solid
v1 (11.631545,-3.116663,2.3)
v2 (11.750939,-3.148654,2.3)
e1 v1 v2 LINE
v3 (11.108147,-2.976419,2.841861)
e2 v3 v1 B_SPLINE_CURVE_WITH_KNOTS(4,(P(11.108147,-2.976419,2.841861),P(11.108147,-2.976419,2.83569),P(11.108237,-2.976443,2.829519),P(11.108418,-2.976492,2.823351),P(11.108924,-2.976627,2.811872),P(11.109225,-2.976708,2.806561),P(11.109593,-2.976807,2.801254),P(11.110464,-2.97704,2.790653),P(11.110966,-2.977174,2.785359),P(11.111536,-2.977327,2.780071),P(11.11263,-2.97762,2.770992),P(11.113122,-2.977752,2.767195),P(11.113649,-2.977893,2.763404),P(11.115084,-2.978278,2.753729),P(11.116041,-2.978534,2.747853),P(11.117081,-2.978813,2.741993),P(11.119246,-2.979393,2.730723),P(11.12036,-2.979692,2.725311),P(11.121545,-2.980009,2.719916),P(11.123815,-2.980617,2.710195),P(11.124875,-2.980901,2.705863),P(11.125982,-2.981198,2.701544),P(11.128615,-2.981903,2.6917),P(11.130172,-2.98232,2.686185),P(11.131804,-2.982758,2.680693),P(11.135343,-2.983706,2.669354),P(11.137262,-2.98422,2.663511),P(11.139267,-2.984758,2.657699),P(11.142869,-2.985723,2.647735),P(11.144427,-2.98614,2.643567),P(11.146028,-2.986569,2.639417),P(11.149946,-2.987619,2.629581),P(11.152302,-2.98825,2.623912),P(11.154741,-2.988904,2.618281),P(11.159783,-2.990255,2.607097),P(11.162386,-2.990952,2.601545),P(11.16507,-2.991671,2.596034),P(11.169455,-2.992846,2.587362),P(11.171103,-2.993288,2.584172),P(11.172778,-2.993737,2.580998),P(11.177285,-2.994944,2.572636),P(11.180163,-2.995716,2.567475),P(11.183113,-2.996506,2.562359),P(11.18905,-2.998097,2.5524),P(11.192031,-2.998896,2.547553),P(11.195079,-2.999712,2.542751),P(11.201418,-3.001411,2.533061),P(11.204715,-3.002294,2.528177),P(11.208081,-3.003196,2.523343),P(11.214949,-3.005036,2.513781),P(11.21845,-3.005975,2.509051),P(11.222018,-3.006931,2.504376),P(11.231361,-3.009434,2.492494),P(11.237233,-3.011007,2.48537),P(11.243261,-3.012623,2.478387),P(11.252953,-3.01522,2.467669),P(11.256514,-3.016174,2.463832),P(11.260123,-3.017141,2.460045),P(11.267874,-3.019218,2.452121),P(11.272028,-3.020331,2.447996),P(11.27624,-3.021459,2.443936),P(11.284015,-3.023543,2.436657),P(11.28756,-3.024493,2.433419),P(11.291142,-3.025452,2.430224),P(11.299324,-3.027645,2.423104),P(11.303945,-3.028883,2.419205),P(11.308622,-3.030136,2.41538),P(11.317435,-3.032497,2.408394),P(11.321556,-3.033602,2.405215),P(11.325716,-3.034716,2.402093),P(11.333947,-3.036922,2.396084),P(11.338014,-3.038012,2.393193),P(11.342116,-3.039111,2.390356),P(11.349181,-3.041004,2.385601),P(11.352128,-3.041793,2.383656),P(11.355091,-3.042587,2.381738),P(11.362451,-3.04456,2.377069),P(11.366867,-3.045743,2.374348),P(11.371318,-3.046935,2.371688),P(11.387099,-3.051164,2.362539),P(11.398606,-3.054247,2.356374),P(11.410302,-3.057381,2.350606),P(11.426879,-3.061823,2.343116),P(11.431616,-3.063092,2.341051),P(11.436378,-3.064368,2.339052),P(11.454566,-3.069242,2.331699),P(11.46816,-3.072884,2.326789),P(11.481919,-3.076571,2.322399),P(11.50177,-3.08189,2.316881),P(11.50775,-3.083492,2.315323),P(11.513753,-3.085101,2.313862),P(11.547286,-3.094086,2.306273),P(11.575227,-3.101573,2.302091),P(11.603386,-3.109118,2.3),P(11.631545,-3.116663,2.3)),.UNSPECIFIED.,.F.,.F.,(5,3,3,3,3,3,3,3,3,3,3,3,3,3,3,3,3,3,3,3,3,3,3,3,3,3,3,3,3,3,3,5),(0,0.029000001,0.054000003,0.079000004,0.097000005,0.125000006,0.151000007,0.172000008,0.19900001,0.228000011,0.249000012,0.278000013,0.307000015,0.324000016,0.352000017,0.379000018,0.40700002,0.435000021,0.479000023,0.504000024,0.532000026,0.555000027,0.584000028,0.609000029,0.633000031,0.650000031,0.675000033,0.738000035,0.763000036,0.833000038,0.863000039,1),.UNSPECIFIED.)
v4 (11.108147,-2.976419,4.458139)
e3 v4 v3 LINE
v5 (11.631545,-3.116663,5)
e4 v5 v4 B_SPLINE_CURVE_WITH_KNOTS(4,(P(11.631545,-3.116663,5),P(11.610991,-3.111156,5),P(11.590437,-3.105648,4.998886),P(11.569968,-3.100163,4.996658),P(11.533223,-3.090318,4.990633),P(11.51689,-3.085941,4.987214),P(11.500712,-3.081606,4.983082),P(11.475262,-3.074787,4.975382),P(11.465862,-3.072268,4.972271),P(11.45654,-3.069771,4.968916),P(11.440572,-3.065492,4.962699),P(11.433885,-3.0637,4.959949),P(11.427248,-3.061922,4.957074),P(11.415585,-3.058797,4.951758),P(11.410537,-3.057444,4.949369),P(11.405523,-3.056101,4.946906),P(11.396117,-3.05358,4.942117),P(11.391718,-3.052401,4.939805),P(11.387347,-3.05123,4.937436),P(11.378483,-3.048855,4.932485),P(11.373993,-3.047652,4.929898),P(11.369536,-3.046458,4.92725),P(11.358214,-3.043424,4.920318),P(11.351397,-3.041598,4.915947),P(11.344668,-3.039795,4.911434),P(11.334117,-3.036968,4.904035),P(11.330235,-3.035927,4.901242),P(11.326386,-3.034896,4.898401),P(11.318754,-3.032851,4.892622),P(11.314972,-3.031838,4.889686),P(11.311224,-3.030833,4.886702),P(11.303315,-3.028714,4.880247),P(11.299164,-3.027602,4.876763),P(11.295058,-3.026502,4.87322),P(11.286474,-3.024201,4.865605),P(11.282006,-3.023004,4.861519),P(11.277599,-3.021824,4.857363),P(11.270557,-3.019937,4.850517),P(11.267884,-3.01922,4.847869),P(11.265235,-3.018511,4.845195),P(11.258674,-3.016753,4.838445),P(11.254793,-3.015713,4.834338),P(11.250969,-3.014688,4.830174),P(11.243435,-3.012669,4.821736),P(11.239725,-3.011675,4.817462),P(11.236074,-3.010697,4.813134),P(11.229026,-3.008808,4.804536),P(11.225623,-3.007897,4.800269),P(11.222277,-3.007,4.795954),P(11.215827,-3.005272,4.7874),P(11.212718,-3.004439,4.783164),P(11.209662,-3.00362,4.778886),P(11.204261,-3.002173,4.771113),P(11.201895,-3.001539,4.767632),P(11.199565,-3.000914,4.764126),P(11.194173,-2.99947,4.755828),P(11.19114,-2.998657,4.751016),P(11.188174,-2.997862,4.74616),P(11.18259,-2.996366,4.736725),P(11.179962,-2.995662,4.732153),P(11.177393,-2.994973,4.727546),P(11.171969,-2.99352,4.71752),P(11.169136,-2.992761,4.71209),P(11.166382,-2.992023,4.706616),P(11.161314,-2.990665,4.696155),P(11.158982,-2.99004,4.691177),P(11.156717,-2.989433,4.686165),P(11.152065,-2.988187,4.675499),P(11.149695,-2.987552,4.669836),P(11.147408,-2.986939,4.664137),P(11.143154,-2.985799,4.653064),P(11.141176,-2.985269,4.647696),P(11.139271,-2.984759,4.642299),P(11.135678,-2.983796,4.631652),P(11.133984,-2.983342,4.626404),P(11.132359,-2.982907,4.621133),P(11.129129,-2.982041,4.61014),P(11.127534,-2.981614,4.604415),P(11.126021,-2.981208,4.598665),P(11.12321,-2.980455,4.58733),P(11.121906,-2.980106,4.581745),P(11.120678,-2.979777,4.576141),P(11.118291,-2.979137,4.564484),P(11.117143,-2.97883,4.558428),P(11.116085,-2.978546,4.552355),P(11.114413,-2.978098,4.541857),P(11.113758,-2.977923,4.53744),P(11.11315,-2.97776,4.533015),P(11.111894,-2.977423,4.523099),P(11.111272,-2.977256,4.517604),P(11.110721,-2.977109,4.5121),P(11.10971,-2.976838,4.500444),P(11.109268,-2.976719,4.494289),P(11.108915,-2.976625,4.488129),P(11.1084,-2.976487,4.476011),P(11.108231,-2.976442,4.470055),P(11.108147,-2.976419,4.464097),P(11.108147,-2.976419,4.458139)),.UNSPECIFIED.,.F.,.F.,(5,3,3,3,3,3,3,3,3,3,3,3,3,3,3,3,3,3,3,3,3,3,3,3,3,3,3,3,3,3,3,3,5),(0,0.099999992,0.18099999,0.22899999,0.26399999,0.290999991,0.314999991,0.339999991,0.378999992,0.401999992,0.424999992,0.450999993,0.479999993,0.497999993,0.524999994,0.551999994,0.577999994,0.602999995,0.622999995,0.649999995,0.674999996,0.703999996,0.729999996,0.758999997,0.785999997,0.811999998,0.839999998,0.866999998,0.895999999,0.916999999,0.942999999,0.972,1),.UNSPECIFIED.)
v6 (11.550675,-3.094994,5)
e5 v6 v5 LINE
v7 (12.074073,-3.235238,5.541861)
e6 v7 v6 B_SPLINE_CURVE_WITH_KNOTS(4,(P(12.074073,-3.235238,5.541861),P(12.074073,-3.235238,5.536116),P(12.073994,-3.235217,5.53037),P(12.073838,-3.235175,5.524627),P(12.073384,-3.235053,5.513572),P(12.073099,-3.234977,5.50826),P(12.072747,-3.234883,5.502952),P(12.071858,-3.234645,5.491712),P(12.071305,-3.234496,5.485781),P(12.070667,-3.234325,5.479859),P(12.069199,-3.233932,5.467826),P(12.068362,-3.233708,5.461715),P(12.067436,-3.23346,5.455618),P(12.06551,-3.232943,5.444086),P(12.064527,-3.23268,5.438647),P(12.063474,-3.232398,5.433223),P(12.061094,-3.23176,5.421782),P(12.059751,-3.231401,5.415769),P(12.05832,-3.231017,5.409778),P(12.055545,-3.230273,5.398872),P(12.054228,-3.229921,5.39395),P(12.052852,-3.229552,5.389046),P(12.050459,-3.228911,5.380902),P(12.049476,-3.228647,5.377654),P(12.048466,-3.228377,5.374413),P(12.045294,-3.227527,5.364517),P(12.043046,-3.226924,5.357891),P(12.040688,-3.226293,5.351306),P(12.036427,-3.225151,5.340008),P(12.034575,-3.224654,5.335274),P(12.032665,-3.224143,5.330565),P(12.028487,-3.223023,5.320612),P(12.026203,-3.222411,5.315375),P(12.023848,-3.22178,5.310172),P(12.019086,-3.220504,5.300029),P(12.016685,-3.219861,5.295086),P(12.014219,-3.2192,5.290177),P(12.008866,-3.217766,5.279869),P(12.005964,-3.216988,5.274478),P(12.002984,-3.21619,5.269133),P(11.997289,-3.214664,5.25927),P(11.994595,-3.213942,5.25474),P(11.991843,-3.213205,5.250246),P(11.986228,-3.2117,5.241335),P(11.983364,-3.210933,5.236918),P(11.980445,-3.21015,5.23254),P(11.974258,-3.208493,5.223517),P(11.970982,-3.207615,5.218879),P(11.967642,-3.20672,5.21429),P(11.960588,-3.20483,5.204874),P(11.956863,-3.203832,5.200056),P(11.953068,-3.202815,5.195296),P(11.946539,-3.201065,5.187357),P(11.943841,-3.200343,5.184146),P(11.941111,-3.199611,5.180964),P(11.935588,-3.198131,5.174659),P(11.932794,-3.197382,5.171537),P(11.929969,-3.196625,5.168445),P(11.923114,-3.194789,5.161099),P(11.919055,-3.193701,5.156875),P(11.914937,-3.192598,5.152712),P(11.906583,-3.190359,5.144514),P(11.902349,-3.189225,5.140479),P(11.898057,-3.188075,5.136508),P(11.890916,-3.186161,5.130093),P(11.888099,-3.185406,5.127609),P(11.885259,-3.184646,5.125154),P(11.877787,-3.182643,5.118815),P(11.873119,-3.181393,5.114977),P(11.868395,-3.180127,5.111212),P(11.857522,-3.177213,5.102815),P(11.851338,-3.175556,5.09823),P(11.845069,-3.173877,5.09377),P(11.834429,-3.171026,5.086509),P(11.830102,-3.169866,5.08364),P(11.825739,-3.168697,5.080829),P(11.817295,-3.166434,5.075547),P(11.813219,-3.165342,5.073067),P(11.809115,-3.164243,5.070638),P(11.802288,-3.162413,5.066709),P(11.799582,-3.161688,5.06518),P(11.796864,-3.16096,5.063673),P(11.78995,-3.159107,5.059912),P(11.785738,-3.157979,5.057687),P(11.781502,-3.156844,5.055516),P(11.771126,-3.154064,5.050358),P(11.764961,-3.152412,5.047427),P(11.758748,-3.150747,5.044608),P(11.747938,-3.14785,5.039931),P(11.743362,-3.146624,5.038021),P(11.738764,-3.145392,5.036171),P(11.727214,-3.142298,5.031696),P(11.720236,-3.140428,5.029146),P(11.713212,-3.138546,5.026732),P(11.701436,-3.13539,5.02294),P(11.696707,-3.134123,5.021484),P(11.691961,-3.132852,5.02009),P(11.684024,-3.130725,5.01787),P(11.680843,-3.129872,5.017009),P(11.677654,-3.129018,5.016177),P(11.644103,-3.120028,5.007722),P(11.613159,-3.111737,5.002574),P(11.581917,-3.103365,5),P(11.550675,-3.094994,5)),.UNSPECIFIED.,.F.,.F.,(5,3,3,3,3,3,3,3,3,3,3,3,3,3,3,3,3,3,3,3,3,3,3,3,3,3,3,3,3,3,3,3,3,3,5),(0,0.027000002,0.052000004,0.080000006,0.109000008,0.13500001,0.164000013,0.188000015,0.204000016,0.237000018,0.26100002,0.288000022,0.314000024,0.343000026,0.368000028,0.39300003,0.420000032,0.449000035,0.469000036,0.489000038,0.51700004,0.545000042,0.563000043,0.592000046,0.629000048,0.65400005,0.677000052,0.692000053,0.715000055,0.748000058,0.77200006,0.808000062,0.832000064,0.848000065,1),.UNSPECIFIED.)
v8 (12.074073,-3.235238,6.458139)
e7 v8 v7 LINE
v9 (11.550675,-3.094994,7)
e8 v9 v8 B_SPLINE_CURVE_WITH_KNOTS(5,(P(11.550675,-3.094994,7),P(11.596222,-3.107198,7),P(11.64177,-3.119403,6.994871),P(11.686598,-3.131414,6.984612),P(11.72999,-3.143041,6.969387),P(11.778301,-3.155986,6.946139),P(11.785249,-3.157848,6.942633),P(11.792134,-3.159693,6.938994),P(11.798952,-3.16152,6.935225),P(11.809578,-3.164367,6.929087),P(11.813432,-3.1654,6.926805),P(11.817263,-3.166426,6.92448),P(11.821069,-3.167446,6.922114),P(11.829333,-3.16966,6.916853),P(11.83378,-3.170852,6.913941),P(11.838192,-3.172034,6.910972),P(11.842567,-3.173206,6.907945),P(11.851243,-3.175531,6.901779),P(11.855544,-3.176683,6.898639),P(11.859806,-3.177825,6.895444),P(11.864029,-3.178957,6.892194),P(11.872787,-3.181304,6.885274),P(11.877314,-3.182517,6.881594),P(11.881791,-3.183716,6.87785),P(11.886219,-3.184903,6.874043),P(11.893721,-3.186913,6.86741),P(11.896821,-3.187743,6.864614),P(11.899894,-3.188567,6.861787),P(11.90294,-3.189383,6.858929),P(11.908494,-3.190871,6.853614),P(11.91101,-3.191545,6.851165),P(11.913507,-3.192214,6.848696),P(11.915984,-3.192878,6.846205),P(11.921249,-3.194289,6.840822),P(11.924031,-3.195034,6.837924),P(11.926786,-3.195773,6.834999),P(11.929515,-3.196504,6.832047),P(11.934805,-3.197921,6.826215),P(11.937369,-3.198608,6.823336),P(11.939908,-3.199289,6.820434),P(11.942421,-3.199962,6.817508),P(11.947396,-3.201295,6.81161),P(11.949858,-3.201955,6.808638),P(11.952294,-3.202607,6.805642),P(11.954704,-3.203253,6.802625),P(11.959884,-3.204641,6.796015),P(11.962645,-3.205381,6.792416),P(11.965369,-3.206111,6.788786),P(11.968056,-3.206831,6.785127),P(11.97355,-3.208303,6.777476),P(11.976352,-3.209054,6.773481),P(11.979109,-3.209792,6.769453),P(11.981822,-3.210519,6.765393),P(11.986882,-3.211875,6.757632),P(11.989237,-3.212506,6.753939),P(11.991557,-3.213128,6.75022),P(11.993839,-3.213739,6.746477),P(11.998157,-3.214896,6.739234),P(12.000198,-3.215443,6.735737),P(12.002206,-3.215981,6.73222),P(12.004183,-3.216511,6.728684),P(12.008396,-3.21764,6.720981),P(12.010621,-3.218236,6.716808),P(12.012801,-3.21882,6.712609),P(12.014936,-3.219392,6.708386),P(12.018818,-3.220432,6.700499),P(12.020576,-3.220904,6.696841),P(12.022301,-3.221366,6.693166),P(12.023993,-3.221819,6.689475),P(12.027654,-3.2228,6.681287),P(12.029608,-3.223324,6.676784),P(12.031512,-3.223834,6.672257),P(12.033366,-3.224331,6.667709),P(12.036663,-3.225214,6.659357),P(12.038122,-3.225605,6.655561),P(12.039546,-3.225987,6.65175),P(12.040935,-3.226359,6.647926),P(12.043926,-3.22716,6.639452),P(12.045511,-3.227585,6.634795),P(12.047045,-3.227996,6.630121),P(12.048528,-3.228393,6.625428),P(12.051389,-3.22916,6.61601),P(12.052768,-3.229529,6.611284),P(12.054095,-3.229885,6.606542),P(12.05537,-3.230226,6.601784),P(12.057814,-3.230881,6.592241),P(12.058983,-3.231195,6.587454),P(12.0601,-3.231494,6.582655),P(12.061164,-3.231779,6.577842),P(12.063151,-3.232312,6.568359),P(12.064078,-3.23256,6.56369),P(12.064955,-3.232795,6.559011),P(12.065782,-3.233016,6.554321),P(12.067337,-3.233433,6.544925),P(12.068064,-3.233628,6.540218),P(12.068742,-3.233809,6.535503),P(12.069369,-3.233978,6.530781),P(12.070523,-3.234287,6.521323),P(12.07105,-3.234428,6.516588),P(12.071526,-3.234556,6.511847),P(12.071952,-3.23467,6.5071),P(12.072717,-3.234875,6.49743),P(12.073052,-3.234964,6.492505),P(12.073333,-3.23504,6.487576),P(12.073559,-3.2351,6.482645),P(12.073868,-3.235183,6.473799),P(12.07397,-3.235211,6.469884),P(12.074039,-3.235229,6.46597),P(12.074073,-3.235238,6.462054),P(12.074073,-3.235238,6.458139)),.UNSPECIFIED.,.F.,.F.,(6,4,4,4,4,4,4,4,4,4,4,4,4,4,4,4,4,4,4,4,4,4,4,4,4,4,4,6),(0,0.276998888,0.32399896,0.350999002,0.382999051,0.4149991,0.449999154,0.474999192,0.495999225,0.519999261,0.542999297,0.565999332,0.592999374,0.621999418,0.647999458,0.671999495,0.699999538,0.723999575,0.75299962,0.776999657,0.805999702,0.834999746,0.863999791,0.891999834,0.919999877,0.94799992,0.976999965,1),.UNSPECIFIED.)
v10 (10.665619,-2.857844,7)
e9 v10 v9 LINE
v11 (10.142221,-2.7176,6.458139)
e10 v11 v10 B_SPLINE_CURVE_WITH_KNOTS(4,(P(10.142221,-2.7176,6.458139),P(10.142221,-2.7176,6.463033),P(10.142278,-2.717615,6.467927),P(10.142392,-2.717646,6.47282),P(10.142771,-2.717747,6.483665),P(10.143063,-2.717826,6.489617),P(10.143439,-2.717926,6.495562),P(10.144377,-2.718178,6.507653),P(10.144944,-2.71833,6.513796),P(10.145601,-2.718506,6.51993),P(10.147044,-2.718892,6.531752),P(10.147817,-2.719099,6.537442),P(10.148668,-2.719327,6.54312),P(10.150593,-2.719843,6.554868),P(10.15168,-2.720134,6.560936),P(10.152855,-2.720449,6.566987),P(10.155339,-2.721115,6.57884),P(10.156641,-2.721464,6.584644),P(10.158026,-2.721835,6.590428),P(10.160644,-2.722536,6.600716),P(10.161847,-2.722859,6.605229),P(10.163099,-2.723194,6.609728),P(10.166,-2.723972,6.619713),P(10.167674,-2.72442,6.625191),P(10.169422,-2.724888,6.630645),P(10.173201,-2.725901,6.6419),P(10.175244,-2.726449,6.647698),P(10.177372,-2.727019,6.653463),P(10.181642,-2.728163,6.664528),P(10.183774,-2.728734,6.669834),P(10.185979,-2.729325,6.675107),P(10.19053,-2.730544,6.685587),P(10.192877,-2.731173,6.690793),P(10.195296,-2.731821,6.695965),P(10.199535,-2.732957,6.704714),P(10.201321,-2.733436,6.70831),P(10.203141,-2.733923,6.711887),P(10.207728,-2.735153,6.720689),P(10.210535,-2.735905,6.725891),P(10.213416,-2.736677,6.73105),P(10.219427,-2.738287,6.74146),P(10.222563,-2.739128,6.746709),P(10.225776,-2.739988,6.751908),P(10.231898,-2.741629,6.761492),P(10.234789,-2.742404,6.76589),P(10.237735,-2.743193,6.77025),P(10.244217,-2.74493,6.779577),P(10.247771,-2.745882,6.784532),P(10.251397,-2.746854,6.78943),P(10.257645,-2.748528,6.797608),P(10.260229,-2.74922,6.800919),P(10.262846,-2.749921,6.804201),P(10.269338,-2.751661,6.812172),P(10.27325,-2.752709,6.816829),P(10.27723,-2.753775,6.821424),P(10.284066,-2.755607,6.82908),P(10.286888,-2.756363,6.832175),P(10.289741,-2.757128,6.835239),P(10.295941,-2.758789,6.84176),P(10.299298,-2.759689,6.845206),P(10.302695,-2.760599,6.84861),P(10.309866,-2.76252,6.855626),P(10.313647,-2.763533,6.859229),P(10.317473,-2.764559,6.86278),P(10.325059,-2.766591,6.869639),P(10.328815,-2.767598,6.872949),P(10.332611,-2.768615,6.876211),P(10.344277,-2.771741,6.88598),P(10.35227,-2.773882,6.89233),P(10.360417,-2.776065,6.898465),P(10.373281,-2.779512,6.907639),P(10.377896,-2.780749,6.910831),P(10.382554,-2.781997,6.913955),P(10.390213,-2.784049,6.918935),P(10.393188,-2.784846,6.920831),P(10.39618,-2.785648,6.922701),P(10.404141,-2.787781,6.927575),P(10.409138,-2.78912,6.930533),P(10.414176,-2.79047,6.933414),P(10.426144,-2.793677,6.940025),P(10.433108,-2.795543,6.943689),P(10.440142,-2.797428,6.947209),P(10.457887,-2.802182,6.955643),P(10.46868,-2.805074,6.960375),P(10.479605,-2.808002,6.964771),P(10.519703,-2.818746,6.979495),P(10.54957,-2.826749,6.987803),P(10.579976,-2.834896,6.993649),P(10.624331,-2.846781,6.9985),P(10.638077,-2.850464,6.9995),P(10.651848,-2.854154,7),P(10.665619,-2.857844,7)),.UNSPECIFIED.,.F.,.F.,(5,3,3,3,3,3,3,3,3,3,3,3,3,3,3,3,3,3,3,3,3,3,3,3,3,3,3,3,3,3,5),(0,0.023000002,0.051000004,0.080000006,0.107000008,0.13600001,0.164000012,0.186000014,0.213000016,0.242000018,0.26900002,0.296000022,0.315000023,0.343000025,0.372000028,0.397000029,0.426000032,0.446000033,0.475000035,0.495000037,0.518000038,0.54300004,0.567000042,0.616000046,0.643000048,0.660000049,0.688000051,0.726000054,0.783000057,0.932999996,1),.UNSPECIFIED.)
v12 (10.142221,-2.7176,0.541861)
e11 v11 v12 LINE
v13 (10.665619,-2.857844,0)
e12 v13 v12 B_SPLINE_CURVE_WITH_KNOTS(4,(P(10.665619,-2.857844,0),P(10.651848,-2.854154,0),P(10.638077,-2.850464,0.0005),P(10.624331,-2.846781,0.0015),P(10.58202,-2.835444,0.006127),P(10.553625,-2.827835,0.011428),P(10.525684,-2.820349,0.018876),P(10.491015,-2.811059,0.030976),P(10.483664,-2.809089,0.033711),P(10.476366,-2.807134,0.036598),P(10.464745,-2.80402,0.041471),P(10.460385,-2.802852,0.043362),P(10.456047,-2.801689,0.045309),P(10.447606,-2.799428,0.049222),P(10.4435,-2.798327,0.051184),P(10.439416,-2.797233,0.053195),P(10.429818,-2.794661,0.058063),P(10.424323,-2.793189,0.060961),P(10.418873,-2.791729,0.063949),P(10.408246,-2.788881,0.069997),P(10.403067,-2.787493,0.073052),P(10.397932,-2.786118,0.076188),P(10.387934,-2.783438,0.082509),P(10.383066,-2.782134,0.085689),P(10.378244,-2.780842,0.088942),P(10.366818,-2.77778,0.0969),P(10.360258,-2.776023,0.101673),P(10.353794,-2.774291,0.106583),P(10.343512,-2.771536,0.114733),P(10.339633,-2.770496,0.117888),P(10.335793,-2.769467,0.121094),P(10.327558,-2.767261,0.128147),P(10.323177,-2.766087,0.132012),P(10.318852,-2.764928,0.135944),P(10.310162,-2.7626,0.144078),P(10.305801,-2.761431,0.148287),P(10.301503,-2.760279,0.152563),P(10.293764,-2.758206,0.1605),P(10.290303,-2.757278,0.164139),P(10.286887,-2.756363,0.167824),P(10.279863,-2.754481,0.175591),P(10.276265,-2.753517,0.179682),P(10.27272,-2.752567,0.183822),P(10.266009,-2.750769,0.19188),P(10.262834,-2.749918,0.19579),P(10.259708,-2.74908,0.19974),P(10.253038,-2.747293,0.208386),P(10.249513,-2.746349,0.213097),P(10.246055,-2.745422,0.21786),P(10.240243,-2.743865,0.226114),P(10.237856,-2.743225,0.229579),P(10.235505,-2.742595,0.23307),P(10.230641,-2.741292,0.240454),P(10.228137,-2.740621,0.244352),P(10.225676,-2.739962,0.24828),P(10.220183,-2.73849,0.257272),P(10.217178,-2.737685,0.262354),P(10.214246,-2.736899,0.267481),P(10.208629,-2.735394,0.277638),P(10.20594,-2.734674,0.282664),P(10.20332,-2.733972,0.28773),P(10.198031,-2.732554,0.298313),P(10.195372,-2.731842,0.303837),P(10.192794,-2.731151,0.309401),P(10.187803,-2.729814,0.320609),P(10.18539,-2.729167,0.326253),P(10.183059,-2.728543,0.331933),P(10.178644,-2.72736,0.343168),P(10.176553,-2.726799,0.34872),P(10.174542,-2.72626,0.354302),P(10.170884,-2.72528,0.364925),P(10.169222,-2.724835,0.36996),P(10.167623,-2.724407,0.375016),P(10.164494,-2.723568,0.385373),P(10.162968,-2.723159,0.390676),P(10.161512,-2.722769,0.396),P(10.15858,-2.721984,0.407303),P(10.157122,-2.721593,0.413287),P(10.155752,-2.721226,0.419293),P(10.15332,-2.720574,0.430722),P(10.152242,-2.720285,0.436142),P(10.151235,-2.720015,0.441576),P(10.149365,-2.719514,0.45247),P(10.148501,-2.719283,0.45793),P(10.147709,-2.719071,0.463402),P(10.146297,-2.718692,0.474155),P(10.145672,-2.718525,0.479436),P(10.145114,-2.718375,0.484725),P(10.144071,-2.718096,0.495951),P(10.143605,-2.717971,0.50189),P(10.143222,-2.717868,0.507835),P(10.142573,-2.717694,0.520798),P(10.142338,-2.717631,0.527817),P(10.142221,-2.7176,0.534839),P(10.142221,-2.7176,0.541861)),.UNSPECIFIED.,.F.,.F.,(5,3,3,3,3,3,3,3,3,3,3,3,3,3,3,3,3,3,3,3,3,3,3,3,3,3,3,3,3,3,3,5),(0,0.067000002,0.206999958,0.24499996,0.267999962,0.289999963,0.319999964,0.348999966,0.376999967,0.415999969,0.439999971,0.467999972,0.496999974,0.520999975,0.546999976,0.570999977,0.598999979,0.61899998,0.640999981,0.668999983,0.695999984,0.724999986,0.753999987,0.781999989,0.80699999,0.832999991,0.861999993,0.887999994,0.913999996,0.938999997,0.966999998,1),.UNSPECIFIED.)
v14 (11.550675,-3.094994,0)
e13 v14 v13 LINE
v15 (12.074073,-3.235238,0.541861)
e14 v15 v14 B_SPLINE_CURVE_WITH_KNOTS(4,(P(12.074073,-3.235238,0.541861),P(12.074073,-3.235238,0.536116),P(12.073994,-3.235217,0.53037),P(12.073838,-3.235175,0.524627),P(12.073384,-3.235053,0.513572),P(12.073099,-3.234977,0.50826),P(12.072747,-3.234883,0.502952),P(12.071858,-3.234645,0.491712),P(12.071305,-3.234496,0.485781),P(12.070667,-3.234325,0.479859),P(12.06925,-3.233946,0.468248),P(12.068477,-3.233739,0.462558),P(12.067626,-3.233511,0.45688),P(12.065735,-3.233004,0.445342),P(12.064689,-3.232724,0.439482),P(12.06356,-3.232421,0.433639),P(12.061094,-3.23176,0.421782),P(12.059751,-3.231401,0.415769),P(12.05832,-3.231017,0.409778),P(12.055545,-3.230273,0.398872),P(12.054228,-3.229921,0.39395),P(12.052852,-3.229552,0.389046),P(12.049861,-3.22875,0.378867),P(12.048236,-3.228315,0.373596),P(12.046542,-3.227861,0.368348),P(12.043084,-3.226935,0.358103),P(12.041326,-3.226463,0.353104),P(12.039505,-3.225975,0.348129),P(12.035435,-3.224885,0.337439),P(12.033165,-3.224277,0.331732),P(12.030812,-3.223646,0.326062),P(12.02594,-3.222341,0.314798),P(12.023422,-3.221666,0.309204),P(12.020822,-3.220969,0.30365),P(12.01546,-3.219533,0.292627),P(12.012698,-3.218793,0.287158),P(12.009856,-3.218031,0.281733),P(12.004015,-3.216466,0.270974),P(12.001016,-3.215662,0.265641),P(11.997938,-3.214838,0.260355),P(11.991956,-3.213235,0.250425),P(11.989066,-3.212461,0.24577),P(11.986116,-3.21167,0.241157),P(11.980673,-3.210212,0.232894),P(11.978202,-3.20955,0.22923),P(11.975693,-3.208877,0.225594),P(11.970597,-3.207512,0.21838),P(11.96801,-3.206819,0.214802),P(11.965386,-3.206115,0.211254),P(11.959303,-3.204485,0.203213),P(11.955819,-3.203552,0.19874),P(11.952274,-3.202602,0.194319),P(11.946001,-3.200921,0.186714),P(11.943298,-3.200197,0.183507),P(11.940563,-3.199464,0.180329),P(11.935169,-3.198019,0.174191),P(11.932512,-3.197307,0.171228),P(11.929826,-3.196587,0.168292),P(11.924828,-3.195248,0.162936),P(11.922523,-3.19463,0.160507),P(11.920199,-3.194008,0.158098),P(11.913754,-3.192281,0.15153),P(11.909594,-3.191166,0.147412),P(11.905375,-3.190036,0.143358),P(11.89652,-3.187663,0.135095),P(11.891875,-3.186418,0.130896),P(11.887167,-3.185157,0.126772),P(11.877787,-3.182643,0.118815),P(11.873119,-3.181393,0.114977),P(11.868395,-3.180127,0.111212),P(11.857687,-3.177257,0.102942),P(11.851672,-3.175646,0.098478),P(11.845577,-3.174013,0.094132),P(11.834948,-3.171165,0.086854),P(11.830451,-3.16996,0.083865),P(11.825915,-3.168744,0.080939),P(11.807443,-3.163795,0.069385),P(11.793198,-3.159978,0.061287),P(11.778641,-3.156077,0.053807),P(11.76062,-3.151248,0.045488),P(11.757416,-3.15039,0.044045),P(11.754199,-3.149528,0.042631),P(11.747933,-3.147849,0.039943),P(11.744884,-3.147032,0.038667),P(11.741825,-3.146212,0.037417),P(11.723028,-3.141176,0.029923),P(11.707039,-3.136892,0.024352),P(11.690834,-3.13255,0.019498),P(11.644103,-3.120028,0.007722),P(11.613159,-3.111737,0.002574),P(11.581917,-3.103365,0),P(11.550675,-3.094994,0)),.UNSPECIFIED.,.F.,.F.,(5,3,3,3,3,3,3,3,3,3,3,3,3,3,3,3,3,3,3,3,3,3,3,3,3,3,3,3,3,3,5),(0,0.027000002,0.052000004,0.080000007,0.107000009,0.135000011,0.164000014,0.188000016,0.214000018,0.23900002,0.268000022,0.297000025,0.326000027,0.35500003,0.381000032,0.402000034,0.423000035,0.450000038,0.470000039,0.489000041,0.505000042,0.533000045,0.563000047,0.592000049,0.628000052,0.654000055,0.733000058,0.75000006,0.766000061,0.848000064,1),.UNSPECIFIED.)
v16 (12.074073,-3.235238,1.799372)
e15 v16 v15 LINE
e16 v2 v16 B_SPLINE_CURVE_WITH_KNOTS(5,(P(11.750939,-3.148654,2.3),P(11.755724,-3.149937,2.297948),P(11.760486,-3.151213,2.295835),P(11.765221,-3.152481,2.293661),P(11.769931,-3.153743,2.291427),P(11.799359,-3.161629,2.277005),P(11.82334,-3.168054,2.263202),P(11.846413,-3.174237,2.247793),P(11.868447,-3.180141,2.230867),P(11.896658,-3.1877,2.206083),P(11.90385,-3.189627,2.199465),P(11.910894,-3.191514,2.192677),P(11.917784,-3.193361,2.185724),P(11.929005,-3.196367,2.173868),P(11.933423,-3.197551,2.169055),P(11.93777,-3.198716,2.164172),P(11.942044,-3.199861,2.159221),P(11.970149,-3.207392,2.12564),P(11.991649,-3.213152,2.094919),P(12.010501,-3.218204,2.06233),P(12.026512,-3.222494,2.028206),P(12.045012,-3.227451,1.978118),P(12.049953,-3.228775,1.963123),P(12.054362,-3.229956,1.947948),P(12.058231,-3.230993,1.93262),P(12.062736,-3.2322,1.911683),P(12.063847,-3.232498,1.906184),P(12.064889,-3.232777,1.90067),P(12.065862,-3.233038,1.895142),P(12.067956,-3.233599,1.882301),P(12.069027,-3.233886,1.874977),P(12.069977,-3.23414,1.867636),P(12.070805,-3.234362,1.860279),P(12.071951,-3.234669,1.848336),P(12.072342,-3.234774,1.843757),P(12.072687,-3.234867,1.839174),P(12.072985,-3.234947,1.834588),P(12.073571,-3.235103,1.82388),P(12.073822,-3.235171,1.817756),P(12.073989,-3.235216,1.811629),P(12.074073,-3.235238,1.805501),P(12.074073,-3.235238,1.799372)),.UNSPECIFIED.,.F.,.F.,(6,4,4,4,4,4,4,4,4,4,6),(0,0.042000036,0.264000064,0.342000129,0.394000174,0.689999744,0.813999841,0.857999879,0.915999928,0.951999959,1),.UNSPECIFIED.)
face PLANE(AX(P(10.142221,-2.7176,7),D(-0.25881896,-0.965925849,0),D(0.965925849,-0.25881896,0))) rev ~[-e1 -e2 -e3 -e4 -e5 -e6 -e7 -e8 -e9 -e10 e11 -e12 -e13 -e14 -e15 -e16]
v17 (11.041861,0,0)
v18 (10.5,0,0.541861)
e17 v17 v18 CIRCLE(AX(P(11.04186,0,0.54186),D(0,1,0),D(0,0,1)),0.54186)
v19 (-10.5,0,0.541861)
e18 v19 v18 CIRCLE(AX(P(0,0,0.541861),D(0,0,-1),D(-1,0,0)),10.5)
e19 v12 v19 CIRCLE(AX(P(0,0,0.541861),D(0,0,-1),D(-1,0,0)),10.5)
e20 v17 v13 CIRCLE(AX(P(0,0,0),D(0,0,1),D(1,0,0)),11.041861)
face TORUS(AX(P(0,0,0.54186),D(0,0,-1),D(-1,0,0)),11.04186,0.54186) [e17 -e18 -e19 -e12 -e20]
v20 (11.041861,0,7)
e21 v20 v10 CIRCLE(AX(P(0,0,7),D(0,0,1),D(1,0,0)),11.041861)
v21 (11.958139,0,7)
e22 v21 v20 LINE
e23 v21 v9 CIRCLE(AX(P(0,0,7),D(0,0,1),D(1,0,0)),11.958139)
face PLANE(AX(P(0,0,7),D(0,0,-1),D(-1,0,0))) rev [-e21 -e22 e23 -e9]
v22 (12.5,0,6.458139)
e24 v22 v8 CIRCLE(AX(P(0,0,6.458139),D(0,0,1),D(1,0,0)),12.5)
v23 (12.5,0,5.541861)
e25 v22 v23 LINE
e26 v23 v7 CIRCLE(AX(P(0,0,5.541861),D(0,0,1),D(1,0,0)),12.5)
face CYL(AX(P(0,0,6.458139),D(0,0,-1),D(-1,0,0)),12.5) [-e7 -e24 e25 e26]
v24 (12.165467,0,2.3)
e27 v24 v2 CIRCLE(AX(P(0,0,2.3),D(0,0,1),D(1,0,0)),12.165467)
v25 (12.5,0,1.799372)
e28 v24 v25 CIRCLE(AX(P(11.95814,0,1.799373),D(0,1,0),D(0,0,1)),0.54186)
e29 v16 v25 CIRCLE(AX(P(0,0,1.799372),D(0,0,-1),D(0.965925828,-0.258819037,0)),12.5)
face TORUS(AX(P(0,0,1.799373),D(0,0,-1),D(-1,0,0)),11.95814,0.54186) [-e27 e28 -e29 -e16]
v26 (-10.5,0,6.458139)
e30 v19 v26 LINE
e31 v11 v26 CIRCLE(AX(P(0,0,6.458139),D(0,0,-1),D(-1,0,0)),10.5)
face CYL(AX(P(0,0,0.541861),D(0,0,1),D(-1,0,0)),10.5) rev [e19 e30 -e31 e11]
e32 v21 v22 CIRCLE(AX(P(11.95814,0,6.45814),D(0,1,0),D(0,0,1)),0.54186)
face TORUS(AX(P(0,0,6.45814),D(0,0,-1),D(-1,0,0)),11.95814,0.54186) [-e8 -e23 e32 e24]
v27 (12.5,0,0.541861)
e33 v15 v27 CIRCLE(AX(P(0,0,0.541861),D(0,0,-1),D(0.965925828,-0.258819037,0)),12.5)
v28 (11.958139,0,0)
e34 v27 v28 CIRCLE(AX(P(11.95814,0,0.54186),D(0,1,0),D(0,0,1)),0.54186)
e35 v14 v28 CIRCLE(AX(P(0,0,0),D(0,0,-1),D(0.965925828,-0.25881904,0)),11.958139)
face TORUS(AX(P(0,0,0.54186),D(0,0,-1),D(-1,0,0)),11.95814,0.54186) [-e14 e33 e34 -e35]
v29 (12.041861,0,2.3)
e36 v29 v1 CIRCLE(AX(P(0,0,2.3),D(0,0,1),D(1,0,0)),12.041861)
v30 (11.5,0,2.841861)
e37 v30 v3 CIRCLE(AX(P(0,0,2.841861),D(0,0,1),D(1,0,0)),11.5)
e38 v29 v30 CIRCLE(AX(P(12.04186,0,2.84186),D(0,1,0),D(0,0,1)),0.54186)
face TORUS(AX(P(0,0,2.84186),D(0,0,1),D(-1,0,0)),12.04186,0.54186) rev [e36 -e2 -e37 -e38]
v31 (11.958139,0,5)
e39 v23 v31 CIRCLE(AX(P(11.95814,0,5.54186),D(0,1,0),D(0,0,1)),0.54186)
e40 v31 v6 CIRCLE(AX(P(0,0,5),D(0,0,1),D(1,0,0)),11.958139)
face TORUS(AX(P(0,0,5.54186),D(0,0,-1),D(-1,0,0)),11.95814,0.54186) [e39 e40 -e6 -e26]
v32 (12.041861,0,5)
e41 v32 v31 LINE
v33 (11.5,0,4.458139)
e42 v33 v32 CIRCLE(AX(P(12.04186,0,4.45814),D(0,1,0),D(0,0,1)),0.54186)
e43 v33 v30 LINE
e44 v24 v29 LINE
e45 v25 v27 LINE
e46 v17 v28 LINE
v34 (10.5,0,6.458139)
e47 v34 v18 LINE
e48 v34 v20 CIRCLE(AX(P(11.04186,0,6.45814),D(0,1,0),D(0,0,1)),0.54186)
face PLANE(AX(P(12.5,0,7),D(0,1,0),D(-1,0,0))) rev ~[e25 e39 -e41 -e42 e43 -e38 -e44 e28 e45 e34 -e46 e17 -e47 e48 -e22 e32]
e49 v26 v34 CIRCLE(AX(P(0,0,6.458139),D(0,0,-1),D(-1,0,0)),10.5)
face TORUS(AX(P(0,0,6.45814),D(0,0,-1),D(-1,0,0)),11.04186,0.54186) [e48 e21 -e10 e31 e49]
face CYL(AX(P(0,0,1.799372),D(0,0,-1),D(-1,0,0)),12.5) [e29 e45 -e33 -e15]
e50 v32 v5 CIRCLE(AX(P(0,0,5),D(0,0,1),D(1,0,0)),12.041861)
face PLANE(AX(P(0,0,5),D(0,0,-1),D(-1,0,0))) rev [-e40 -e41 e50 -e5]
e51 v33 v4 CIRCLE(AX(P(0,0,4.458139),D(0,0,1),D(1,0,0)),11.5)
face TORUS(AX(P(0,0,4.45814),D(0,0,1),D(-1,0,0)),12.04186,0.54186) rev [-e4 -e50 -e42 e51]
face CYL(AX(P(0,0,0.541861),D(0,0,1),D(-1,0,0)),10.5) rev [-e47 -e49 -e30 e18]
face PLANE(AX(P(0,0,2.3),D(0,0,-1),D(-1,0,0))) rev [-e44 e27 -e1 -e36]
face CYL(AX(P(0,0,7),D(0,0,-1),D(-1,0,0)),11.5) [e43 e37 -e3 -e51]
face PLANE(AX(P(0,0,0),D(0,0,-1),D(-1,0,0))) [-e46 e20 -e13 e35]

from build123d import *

# Parameters (mm, degrees)
F4_DEPTH = 7.001


with BuildPart() as f1:
    # F0 (on Front) → F1 (revolve)
    with BuildSketch(Plane.XZ):
        with BuildLine():
            Line((-11.958139, 0), (-11.041861, 0))
            ThreePointArc((-11.041861, 0), (-10.658707, 0.158707), (-10.5, 0.541861))
            Line((-10.5, 0.541861), (-10.5, 6.458139))
            ThreePointArc((-10.5, 6.458139), (-10.658707, 6.841293), (-11.041861, 7))
            Line((-11.041861, 7), (-11.5, 7))
            Line((-11.5, 7), (-11.5, 4.458139))
            Line((-11.5, 4.458139), (-11.5, 2.841861))
            ThreePointArc((-11.5, 2.841861), (-11.658707, 2.458707), (-12.041861, 2.3))
            Line((-12.041861, 2.3), (-12.165467, 2.3))
            ThreePointArc((-12.165467, 2.3), (-12.40867, 2.100429), (-12.5, 1.799372))
            Line((-12.5, 1.799372), (-12.5, 0.541861))
            ThreePointArc((-12.5, 0.541861), (-12.341293, 0.158707), (-11.958139, 0))
        make_face()
        with BuildLine():
            Line((-11.5, 4.458139), (-11.5, 7))
            Line((-11.5, 7), (-11.958139, 7))
            ThreePointArc((-11.958139, 7), (-12.341293, 6.841293), (-12.5, 6.458139))
            Line((-12.5, 6.458139), (-12.5, 5.541861))
            ThreePointArc((-12.5, 5.541861), (-12.341293, 5.158707), (-11.958139, 5))
            Line((-11.958139, 5), (-12.041861, 5))
            ThreePointArc((-12.041861, 5), (-11.658707, 4.841293), (-11.5, 4.458139))
        make_face()
    revolve(axis=Axis((0, 0, -7.919241), (0, 0, -1)))

    # F3 (on offset) → F4 (cut, through all)
    with BuildSketch(Plane.XY.offset(7)):
        with BuildLine():
            Line((12.5, 0), (10.5, 0))
            ThreePointArc((10.5, 0), (10.410171, -1.370525), (10.142221, -2.7176))
            Line((10.142221, -2.7176), (12.074073, -3.235238))
            ThreePointArc((12.074073, -3.235238), (12.393061, -1.631577), (12.5, 0))
        make_face()
    extrude(amount=-F4_DEPTH, mode=Mode.SUBTRACT)


solid = f1.part
